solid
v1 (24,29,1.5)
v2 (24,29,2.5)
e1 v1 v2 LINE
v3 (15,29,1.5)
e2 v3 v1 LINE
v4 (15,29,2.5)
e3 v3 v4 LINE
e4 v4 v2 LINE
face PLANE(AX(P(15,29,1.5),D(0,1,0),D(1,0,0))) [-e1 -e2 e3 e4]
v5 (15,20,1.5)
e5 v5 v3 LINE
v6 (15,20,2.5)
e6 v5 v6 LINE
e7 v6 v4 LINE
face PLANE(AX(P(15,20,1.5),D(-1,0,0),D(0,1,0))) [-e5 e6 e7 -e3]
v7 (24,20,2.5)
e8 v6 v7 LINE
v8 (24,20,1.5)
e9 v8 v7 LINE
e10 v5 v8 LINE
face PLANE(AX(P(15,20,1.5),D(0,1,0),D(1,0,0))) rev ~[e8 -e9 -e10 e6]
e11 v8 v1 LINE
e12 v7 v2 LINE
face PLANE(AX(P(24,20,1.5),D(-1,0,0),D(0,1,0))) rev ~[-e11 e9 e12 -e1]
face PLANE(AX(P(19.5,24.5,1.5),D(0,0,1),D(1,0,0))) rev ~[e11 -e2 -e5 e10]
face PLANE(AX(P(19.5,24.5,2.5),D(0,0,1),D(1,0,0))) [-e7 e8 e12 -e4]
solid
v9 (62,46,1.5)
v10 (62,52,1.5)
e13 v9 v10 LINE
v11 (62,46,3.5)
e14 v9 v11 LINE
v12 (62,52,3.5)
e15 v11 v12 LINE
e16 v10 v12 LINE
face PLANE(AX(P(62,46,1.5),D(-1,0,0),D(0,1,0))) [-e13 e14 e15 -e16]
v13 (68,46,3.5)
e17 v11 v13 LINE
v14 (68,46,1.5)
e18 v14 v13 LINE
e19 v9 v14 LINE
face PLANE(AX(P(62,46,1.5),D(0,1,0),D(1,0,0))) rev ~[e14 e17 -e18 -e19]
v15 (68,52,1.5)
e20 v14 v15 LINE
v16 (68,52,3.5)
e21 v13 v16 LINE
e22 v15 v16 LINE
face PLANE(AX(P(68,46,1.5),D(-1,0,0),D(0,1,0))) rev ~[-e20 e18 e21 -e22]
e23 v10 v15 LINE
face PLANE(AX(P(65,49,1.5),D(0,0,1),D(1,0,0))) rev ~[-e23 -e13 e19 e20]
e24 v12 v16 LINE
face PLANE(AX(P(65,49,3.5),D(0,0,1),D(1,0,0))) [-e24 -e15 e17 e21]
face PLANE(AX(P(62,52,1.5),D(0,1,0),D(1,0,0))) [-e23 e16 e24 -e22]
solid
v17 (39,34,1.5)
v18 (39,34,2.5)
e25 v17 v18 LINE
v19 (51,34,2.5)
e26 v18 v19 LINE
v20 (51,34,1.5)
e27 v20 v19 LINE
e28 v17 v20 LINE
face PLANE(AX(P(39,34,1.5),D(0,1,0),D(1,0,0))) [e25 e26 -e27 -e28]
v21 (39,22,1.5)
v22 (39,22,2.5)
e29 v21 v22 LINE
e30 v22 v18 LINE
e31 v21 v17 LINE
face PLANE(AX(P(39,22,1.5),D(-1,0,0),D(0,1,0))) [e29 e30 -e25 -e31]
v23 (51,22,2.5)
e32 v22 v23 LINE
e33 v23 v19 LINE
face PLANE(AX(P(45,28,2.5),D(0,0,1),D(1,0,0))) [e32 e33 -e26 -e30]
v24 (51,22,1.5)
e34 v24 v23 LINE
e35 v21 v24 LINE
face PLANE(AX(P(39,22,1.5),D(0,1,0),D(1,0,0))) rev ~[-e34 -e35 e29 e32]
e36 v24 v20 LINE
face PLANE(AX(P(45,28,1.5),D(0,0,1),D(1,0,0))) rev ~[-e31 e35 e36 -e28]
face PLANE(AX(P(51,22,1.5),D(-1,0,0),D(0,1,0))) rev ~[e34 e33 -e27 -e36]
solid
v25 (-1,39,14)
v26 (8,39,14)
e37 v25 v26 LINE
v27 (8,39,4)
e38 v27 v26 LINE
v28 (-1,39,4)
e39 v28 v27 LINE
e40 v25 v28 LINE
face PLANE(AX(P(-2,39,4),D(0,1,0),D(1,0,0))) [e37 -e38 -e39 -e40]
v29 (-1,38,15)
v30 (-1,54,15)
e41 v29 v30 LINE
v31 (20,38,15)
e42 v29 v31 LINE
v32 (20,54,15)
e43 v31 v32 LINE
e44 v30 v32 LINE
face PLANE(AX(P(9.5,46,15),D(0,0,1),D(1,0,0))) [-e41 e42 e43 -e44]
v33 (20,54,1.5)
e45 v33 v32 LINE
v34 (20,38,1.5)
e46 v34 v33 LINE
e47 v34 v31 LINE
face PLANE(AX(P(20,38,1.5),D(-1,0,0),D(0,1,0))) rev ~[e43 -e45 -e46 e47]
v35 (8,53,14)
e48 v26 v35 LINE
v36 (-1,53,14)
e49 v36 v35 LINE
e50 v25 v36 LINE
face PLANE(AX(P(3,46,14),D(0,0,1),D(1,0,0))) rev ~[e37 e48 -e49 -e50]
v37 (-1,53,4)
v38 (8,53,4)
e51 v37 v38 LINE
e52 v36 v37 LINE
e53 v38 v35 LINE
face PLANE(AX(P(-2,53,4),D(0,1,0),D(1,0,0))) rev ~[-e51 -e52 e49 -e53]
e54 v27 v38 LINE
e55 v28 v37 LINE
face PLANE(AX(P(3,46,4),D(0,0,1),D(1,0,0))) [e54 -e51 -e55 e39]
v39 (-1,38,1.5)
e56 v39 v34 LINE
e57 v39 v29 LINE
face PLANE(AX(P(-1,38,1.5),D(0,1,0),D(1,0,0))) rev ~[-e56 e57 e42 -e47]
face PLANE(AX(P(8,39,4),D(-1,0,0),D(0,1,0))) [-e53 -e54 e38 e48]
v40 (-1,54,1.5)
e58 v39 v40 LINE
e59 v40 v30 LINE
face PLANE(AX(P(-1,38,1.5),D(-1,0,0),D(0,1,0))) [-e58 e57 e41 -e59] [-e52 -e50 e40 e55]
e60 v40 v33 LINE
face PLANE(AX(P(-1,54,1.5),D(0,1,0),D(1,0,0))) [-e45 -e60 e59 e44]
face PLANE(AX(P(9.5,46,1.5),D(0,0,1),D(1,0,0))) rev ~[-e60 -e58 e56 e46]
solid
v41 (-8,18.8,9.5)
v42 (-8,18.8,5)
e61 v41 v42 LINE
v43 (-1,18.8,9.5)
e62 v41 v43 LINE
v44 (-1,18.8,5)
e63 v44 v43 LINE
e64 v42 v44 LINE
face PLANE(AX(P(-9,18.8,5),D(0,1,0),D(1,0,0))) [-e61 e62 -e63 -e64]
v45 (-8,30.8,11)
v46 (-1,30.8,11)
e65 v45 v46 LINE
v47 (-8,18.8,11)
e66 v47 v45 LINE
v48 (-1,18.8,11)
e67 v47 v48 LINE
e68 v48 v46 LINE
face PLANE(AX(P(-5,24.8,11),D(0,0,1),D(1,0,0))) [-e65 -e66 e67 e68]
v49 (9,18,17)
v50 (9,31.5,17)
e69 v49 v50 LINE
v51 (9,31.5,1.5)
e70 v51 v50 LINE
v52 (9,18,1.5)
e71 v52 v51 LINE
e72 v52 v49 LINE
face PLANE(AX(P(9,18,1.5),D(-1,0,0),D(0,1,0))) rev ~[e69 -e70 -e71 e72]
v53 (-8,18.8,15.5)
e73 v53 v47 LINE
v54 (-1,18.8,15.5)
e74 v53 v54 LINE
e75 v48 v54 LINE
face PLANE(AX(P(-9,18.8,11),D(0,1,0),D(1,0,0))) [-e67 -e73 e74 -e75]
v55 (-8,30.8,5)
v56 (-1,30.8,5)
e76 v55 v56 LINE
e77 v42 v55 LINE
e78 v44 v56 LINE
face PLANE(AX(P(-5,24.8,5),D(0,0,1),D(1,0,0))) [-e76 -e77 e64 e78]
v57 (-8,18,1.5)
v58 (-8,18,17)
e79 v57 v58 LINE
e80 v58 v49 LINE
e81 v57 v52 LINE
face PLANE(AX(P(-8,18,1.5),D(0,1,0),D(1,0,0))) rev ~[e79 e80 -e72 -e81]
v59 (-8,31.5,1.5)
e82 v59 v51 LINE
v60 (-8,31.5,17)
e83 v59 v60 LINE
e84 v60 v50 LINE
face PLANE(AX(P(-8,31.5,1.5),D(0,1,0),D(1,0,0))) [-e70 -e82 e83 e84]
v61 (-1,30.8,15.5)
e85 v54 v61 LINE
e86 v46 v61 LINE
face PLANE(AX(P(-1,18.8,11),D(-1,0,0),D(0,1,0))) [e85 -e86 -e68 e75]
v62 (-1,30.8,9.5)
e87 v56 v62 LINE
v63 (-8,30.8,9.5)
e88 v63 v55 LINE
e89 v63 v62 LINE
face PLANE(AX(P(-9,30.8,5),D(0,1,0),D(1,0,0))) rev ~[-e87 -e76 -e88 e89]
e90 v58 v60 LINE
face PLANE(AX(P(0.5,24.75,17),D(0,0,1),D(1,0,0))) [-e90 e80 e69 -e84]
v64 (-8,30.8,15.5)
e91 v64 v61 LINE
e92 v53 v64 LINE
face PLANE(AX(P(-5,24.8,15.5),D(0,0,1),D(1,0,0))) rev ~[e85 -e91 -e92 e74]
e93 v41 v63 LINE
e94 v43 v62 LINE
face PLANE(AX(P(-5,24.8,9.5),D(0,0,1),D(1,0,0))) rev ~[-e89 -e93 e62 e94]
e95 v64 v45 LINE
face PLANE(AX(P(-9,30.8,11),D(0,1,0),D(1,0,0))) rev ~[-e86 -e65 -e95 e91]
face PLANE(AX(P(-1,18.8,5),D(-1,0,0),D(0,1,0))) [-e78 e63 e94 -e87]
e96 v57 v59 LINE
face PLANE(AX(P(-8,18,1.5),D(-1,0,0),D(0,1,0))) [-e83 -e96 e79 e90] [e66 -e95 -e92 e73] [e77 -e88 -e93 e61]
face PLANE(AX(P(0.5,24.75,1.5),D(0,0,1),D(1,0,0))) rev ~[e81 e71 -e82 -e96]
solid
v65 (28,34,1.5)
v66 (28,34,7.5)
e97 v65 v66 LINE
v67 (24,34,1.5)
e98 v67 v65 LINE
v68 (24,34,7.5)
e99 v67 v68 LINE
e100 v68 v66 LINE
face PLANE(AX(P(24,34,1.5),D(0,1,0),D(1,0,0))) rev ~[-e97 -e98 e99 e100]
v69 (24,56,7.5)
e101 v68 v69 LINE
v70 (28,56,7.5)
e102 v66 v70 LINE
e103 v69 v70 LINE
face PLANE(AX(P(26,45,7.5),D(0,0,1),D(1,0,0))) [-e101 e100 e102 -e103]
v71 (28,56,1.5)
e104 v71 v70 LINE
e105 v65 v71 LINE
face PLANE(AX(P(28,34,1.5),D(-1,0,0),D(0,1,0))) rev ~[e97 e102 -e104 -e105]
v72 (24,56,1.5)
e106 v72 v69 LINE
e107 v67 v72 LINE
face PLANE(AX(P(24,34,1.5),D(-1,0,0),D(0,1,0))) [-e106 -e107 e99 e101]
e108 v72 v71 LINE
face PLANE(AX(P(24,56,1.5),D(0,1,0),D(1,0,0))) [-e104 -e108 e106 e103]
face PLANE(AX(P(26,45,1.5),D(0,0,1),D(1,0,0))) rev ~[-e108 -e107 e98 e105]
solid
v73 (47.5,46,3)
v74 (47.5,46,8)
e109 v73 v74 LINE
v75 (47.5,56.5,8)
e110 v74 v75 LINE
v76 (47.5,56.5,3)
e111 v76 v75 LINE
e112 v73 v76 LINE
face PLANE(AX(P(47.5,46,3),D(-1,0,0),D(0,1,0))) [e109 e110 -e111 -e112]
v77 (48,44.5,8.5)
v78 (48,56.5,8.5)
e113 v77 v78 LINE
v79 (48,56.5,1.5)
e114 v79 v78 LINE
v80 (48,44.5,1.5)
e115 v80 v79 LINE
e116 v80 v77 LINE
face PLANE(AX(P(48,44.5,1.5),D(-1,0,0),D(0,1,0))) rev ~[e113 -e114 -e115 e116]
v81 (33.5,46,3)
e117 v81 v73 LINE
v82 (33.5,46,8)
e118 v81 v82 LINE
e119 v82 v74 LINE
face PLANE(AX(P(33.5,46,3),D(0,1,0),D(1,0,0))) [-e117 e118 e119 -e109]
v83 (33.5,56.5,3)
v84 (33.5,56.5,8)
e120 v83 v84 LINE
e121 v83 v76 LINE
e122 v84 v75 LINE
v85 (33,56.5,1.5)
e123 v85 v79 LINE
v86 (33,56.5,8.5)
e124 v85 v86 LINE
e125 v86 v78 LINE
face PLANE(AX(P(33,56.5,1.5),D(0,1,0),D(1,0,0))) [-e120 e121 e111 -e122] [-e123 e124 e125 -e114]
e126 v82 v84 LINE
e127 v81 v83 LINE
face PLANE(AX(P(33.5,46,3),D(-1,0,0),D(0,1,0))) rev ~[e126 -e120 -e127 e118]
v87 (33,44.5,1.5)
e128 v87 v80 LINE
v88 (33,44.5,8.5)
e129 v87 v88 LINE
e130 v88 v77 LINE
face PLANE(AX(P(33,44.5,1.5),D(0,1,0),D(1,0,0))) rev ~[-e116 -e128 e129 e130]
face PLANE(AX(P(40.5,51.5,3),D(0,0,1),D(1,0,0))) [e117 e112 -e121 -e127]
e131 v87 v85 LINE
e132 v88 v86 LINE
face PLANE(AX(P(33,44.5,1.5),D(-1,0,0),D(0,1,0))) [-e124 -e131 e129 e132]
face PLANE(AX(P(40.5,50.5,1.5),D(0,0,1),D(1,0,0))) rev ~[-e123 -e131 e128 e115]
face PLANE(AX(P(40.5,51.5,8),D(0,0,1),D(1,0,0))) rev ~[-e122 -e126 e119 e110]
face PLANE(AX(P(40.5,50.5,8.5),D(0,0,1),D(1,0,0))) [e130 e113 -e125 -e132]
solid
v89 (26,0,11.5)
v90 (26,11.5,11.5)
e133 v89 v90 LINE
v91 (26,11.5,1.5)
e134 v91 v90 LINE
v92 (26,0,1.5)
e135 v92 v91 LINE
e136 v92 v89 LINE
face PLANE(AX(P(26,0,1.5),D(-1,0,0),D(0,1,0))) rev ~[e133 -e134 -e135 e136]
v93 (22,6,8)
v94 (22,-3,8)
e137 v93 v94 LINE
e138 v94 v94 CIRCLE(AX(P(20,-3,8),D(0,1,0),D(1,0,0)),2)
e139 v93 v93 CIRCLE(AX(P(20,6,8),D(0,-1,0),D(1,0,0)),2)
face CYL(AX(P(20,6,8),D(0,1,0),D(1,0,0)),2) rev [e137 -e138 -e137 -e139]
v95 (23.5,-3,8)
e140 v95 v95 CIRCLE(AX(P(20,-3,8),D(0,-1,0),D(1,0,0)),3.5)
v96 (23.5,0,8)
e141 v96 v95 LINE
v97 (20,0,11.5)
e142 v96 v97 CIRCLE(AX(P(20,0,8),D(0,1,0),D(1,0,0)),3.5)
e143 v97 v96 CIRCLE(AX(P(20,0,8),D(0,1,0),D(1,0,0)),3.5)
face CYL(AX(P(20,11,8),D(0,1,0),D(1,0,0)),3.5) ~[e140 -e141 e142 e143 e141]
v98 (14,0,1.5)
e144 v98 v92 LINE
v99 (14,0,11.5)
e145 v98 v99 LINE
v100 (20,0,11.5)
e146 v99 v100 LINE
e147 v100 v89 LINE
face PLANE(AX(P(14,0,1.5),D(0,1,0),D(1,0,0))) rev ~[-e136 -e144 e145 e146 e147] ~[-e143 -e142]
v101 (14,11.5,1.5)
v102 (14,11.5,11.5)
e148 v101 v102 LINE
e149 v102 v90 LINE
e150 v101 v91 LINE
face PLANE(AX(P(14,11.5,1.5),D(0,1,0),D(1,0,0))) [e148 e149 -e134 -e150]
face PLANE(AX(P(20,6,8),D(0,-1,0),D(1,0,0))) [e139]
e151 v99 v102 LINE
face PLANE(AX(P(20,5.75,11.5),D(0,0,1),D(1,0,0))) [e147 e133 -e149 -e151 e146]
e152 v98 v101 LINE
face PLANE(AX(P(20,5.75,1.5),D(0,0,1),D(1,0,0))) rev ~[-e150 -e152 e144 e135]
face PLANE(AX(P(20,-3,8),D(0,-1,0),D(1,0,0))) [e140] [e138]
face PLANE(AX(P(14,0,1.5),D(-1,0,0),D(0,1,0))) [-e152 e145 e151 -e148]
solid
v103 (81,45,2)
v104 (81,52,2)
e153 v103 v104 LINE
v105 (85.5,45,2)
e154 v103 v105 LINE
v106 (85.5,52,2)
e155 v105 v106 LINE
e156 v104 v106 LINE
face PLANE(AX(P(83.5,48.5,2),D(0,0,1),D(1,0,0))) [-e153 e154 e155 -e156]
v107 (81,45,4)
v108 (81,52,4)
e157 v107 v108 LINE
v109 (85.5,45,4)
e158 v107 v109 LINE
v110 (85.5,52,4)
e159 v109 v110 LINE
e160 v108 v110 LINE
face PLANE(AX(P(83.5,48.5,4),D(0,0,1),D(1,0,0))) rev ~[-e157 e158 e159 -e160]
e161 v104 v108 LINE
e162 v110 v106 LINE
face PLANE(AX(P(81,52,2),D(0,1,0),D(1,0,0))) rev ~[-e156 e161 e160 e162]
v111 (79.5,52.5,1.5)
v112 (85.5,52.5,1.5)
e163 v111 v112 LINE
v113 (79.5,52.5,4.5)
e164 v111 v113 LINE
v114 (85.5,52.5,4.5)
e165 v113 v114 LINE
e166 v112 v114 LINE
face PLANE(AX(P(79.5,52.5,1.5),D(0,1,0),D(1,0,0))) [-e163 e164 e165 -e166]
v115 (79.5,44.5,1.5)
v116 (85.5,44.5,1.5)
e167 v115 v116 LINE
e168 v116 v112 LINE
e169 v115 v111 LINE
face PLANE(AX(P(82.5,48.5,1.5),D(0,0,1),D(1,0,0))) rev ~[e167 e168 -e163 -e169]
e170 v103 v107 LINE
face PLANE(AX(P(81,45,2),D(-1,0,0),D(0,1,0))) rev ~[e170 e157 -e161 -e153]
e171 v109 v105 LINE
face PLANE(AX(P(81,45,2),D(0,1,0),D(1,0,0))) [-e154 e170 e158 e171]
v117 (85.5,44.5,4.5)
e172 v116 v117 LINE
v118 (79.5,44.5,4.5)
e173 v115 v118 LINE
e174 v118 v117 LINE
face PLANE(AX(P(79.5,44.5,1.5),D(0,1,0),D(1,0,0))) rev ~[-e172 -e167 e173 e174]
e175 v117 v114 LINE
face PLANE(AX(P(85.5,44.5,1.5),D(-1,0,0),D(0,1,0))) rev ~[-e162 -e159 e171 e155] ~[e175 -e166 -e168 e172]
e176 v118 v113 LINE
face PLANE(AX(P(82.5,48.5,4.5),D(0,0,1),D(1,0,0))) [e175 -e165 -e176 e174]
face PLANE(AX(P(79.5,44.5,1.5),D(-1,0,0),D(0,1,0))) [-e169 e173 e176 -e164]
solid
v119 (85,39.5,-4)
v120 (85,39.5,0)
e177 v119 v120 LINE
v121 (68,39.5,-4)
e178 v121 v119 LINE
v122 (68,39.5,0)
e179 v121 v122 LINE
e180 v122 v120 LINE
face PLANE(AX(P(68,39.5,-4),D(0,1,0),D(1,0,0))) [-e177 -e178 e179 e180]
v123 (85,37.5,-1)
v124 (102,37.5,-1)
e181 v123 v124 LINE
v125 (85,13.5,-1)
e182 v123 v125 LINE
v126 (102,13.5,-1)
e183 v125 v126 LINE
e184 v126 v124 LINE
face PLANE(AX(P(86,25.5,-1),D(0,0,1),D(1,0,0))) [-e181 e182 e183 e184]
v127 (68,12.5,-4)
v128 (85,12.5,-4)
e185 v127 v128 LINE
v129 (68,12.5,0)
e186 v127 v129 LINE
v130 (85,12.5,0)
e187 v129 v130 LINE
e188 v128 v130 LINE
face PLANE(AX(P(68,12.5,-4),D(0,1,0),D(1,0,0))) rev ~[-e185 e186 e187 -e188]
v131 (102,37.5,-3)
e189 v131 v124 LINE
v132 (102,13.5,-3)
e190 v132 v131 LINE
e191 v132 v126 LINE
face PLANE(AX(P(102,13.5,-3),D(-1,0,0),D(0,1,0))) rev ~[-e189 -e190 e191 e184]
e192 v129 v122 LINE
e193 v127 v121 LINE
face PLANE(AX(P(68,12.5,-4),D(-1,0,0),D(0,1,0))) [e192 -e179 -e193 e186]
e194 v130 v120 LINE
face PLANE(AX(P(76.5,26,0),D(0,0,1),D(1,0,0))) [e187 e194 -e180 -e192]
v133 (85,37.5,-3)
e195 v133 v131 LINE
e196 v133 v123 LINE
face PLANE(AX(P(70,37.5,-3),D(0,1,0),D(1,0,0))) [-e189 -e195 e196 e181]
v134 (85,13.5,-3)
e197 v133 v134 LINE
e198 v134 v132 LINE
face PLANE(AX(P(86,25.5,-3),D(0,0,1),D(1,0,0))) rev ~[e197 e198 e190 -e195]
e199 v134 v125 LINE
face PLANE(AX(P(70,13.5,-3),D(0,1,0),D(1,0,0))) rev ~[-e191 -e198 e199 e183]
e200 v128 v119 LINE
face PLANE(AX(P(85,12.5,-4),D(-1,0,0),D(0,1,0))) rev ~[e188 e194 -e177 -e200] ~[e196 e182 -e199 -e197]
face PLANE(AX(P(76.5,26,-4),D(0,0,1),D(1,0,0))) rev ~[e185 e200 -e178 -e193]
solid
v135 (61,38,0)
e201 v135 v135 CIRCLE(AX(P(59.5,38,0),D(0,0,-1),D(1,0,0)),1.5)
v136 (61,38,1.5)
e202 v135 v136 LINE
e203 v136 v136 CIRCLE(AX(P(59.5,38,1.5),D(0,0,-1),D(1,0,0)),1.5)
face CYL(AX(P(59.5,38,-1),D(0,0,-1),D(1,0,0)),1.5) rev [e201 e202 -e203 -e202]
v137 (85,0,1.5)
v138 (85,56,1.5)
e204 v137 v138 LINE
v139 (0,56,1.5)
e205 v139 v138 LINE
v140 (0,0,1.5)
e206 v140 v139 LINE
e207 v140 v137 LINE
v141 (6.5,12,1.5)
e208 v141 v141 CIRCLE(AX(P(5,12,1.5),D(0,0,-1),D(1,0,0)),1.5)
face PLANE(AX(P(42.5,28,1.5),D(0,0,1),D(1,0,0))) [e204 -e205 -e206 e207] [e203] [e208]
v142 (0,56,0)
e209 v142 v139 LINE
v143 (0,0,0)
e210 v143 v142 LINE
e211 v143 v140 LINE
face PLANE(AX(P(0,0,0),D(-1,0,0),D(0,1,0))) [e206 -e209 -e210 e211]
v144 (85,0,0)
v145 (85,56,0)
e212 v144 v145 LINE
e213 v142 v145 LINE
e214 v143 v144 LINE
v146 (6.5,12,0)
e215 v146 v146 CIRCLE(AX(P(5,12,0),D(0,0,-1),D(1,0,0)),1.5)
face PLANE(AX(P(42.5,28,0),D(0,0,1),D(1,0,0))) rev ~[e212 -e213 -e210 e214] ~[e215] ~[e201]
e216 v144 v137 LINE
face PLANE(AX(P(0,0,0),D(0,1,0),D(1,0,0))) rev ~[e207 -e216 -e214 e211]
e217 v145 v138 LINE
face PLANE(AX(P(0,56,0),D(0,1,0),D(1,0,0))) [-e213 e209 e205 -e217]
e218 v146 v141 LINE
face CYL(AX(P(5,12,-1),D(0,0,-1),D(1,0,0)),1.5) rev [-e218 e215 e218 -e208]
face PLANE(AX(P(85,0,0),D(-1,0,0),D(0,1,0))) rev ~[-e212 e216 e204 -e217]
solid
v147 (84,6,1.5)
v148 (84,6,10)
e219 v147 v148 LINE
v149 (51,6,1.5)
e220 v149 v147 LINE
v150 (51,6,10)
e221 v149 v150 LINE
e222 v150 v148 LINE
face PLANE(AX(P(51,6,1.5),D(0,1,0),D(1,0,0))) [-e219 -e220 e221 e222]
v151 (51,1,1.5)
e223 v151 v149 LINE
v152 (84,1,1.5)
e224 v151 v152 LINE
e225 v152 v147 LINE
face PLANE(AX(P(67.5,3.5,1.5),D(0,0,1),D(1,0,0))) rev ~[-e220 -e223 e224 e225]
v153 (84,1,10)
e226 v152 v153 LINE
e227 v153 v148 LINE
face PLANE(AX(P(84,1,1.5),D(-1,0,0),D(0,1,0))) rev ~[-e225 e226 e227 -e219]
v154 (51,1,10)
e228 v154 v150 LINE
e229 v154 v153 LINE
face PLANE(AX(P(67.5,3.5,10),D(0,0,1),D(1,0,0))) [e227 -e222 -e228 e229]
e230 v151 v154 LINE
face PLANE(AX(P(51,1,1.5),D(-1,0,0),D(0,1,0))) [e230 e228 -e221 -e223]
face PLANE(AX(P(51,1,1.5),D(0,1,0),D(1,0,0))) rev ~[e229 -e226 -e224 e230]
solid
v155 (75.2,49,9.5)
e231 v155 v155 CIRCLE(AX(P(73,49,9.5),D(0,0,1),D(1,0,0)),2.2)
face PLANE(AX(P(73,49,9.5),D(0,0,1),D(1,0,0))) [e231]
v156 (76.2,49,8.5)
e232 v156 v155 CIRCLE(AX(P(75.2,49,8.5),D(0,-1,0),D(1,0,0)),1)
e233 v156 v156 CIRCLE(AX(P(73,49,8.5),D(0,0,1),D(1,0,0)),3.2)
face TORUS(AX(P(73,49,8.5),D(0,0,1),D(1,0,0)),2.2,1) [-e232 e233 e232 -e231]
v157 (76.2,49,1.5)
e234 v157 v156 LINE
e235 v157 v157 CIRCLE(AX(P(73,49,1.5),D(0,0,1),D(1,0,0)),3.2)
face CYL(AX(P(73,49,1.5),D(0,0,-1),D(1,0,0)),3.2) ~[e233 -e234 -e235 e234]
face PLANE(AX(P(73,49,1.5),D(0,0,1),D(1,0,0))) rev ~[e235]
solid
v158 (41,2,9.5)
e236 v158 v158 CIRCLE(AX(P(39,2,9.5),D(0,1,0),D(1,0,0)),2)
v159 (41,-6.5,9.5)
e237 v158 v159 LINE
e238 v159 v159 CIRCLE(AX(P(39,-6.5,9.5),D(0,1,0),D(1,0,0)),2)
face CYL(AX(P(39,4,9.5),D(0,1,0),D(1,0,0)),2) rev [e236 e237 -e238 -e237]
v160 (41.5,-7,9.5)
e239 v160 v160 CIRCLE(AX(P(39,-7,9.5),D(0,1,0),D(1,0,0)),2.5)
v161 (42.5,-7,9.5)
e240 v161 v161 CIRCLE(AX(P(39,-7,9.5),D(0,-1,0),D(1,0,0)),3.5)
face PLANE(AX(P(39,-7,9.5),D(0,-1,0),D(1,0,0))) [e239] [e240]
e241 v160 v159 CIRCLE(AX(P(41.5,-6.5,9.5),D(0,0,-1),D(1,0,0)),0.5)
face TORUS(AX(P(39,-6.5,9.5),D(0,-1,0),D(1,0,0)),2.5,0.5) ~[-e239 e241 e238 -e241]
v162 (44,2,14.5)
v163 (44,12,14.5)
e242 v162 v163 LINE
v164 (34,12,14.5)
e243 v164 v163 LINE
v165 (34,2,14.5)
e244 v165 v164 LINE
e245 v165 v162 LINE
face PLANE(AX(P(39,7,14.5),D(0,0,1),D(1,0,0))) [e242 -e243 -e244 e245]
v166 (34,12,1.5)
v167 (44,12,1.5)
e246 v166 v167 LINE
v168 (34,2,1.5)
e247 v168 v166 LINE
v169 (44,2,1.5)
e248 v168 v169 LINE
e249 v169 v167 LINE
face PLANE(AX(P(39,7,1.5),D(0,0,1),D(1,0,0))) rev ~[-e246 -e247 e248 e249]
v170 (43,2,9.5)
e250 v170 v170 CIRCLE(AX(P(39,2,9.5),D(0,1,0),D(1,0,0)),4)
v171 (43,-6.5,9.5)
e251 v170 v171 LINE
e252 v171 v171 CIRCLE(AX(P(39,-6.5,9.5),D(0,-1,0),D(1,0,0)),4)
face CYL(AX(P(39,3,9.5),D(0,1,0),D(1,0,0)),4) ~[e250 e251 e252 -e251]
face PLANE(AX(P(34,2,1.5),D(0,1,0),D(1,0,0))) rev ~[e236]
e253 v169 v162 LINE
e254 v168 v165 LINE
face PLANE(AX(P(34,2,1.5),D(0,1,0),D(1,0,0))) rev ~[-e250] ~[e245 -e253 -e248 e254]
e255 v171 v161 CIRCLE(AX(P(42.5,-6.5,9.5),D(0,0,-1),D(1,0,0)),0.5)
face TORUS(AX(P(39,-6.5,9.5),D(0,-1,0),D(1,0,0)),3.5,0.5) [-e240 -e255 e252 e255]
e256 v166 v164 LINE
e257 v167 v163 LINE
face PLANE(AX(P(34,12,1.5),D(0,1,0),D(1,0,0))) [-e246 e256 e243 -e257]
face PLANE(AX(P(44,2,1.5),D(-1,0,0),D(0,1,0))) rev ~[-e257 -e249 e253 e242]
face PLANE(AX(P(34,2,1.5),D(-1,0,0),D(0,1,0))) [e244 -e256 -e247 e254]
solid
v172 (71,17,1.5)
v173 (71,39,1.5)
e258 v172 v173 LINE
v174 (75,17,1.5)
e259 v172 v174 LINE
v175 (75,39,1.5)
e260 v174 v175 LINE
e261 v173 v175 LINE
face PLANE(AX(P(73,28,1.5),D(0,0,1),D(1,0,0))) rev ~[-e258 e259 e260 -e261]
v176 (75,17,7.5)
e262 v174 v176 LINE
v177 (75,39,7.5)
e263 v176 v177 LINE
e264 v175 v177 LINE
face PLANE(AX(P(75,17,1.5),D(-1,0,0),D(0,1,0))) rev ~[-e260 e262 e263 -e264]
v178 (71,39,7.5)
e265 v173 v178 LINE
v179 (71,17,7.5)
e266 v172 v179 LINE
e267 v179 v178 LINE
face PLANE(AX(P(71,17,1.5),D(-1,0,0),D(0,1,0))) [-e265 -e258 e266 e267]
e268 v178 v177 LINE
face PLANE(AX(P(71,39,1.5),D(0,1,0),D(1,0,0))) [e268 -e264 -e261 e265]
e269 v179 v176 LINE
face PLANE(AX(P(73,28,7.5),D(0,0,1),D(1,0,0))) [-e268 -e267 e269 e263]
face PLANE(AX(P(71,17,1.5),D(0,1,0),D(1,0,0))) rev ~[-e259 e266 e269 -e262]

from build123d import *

# Parameters (mm, degrees)
BOX001_W               = 33
BOX001_H               = 5
BOX001_DEPTH           = 8.5
CYLINDER001_R          = 2
CYLINDER001_DEPTH      = 10
CYLINDER001_ROLL_ANGLE = 90
BOX003_W               = 12
BOX003_H               = 11.5
BOX003_DEPTH           = 10
CYLINDER_R             = 3.5
CYLINDER_DEPTH         = 14
CYLINDER_ROLL_ANGLE    = 90
CYLINDER002_R          = 2
CYLINDER002_DEPTH      = 12
CYLINDER003_R          = 4
CYLINDER003_DEPTH      = 10
FILLET_R               = 0.5
FILLET_ROLL_ANGLE      = 90
BOX002_W               = 10
BOX002_H               = 10
BOX002_DEPTH           = 13
BOX006_W               = 8
BOX006_H               = 12
BOX006_DEPTH           = 4.5
BOX005_W               = 8
BOX005_H               = 12
BOX005_DEPTH           = 4.5
BOX004_W               = 17
BOX004_H               = 13.5
BOX004_DEPTH           = 15.5
BOX008_W               = 10
BOX008_H               = 14
BOX008_DEPTH           = 10
BOX007_W               = 21
BOX007_H               = 16
BOX007_DEPTH           = 13.5
BOX009_W               = 9
BOX009_H               = 9
BOX009_DEPTH           = 1
BOX010_W               = 12
BOX010_H               = 12
BOX010_DEPTH           = 1
BOX011_W               = 4
BOX011_H               = 22
BOX011_DEPTH           = 6
BOX012_W               = 4
BOX012_H               = 22
BOX012_DEPTH           = 6
CYLINDER004_R          = 3.2
CYLINDER004_DEPTH      = 8
FILLET001_R            = 1
BOX013_W               = 6
BOX013_H               = 6
BOX013_DEPTH           = 2
BOX015_W               = 5
BOX015_H               = 7
BOX015_DEPTH           = 2
BOX014_W               = 6
BOX014_H               = 8
BOX014_DEPTH           = 3
BOX017_W               = 14
BOX017_H               = 11
BOX017_DEPTH           = 5
BOX016_W               = 15
BOX016_H               = 12
BOX016_DEPTH           = 7
BOX018_W               = 17
BOX018_H               = 27
BOX018_DEPTH           = 4
BOX019_W               = 32
BOX019_H               = 24
BOX019_DEPTH           = 2
CYLINDER005_R          = 1.5
CYLINDER005_DEPTH      = 3
CYLINDER006_R          = 1.5
CYLINDER006_DEPTH      = 3
BOX_W                  = 85
BOX_H                  = 56
BOX_DEPTH              = 1.5


with BuildPart() as pines:
    # Box001 → Box001 (new body)
    with BuildSketch(Plane(origin=(51, 1, 1.5), x_dir=(1, 0, 0), z_dir=(0, 0, 1))):
        with Locations((16.5, 2.5)):
            Rectangle(BOX001_W, BOX001_H)
    extrude(amount=BOX001_DEPTH)


with BuildPart() as cylinder001:
    # Cylinder001 → Cylinder001 (new body)
    with BuildSketch(Plane.XY):
        Circle(CYLINDER001_R)
    extrude(amount=CYLINDER001_DEPTH)


with BuildPart() as cylinder001_1:
    # Cylinder001 roll: moved
    add(cylinder001.part.rotate(Axis((0, 0, 0), (1, 0, 0)), CYLINDER001_ROLL_ANGLE))


with BuildPart() as cylinder001_2:
    # Cylinder001 placement: moved
    add(cylinder001_1.part.moved(Location((20, 6, 8))))


with BuildPart() as audiocaja:
    # Box003 → Box003 (new body)
    with BuildSketch(Plane(origin=(14, 0, 1.5), x_dir=(1, 0, 0), z_dir=(0, 0, 1))):
        with Locations((6, 5.75)):
            Rectangle(BOX003_W, BOX003_H)
    extrude(amount=BOX003_DEPTH)


with BuildPart() as audio:
    # Cylinder → Cylinder (new body)
    with BuildSketch(Plane.XY):
        Circle(CYLINDER_R)
    extrude(amount=CYLINDER_DEPTH)


with BuildPart() as audio_1:
    # Cylinder roll: moved
    add(audio.part.rotate(Axis((0, 0, 0), (1, 0, 0)), CYLINDER_ROLL_ANGLE))


with BuildPart() as audio_2:
    # Cylinder placement: moved
    add(audio_1.part.moved(Location((20, 11, 8))))

    # Fusion: union audiocaja
    add(audiocaja.part)

    # Cut: cut Cylinder001
    add(cylinder001_2.part, mode=Mode.SUBTRACT)


with BuildPart() as cylinder002:
    # Cylinder002 → Cylinder002 (new body)
    with BuildSketch(Plane.XY.offset(-1)):
        Circle(CYLINDER002_R)
    extrude(amount=CYLINDER002_DEPTH)


with BuildPart() as video2:
    # Cylinder003 → Cylinder003 (new body)
    with BuildSketch(Plane.XY):
        Circle(CYLINDER003_R)
    extrude(amount=CYLINDER003_DEPTH)

    # Cut001: cut Cylinder002
    add(cylinder002.part, mode=Mode.SUBTRACT)

    # Fillet
    fillet_edges = [video2.edges().sort_by_distance(p)[0] for p in [
        (-4, 0, 10),
        (-1.414214, 1.414214, 10),
        (1.414214, -1.414214, 10),
    ]]
    fillet(fillet_edges, radius=FILLET_R)


with BuildPart() as video2_1:
    # Fillet roll: moved
    add(video2.part.rotate(Axis((0, 0, 0), (1, 0, 0)), FILLET_ROLL_ANGLE))


with BuildPart() as video2_2:
    # Fillet placement: moved
    add(video2_1.part.moved(Location((39, 3, 9.5))))


with BuildPart() as video:
    # Box002 → Box002 (new body)
    with BuildSketch(Plane(origin=(34, 2, 1.5), x_dir=(1, 0, 0), z_dir=(0, 0, 1))):
        with Locations((5, 5)):
            Rectangle(BOX002_W, BOX002_H)
    extrude(amount=BOX002_DEPTH)

    # Fusion001: union video2
    add(video2_2.part)


with BuildPart() as box006:
    # Box006 → Box006 (new body)
    with BuildSketch(Plane(origin=(-9, 18.8, 11), x_dir=(1, 0, 0), z_dir=(0, 0, 1))):
        with Locations((4, 6)):
            Rectangle(BOX006_W, BOX006_H)
    extrude(amount=BOX006_DEPTH)


with BuildPart() as box005:
    # Box005 → Box005 (new body)
    with BuildSketch(Plane(origin=(-9, 18.8, 5), x_dir=(1, 0, 0), z_dir=(0, 0, 1))):
        with Locations((4, 6)):
            Rectangle(BOX005_W, BOX005_H)
    extrude(amount=BOX005_DEPTH)


with BuildPart() as usb:
    # Box004 → Box004 (new body)
    with BuildSketch(Plane(origin=(-8, 18, 1.5), x_dir=(1, 0, 0), z_dir=(0, 0, 1))):
        with Locations((8.5, 6.75)):
            Rectangle(BOX004_W, BOX004_H)
    extrude(amount=BOX004_DEPTH)

    # Cut002: cut Box005
    add(box005.part, mode=Mode.SUBTRACT)

    # Cut003: cut Box006
    add(box006.part, mode=Mode.SUBTRACT)


with BuildPart() as box008:
    # Box008 → Box008 (new body)
    with BuildSketch(Plane(origin=(-2, 39, 4), x_dir=(1, 0, 0), z_dir=(0, 0, 1))):
        with Locations((5, 7)):
            Rectangle(BOX008_W, BOX008_H)
    extrude(amount=BOX008_DEPTH)


with BuildPart() as rj47:
    # Box007 → Box007 (new body)
    with BuildSketch(Plane(origin=(-1, 38, 1.5), x_dir=(1, 0, 0), z_dir=(0, 0, 1))):
        with Locations((10.5, 8)):
            Rectangle(BOX007_W, BOX007_H)
    extrude(amount=BOX007_DEPTH)

    # Cut004: cut Box008
    add(box008.part, mode=Mode.SUBTRACT)


with BuildPart() as chip001:
    # Box009 → Box009 (new body)
    with BuildSketch(Plane(origin=(15, 20, 1.5), x_dir=(1, 0, 0), z_dir=(0, 0, 1))):
        with Locations((4.5, 4.5)):
            Rectangle(BOX009_W, BOX009_H)
    extrude(amount=BOX009_DEPTH)


with BuildPart() as chip002:
    # Box010 → Box010 (new body)
    with BuildSketch(Plane(origin=(39, 22, 1.5), x_dir=(1, 0, 0), z_dir=(0, 0, 1))):
        with Locations((6, 6)):
            Rectangle(BOX010_W, BOX010_H)
    extrude(amount=BOX010_DEPTH)


with BuildPart() as conector01:
    # Box011 → Box011 (new body)
    with BuildSketch(Plane(origin=(24, 34, 1.5), x_dir=(1, 0, 0), z_dir=(0, 0, 1))):
        with Locations((2, 11)):
            Rectangle(BOX011_W, BOX011_H)
    extrude(amount=BOX011_DEPTH)


with BuildPart() as conector02:
    # Box012 → Box012 (new body)
    with BuildSketch(Plane(origin=(71, 17, 1.5), x_dir=(1, 0, 0), z_dir=(0, 0, 1))):
        with Locations((2, 11)):
            Rectangle(BOX012_W, BOX012_H)
    extrude(amount=BOX012_DEPTH)


with BuildPart() as condensador:
    # Cylinder004 → Cylinder004 (new body)
    with BuildSketch(Plane(origin=(73, 49, 1.5), x_dir=(1, 0, 0), z_dir=(0, 0, 1))):
        Circle(CYLINDER004_R)
    extrude(amount=CYLINDER004_DEPTH)

    # Fillet001
    fillet001_edges = [condensador.edges().sort_by_distance(p)[0] for p in [
        (69.8, 49, 9.5),
    ]]
    fillet(fillet001_edges, radius=FILLET001_R)


with BuildPart() as chip03:
    # Box013 → Box013 (new body)
    with BuildSketch(Plane(origin=(62, 46, 1.5), x_dir=(1, 0, 0), z_dir=(0, 0, 1))):
        with Locations((3, 3)):
            Rectangle(BOX013_W, BOX013_H)
    extrude(amount=BOX013_DEPTH)


with BuildPart() as box015:
    # Box015 → Box015 (new body)
    with BuildSketch(Plane(origin=(1.5, 0.5, 2), x_dir=(1, 0, 0), z_dir=(0, 0, 1))):
        with Locations((2.5, 3.5)):
            Rectangle(BOX015_W, BOX015_H)
    extrude(amount=BOX015_DEPTH)


with BuildPart() as alimentacion:
    # Box014 → Box014 (new body)
    with BuildSketch(Plane.XY.offset(1.5)):
        with Locations((3, 4)):
            Rectangle(BOX014_W, BOX014_H)
    extrude(amount=BOX014_DEPTH)

    # Cut005: cut Box015
    add(box015.part, mode=Mode.SUBTRACT)


with BuildPart() as alimentacion_1:
    # Cut005 placement: moved
    add(alimentacion.part.moved(Location((79.5, 44.5, 0))))


with BuildPart() as box017:
    # Box017 → Box017 (new body)
    with BuildSketch(Plane(origin=(33.5, 46, 3), x_dir=(1, 0, 0), z_dir=(0, 0, 1))):
        with Locations((7, 5.5)):
            Rectangle(BOX017_W, BOX017_H)
    extrude(amount=BOX017_DEPTH)


with BuildPart() as hdmi:
    # Box016 → Box016 (new body)
    with BuildSketch(Plane(origin=(33, 44.5, 1.5), x_dir=(1, 0, 0), z_dir=(0, 0, 1))):
        with Locations((7.5, 6)):
            Rectangle(BOX016_W, BOX016_H)
    extrude(amount=BOX016_DEPTH)

    # Cut006: cut Box017
    add(box017.part, mode=Mode.SUBTRACT)


with BuildPart() as box018:
    # Box018 → Box018 (new body)
    with BuildSketch(Plane(origin=(68, 12.5, -4), x_dir=(1, 0, 0), z_dir=(0, 0, 1))):
        with Locations((8.5, 13.5)):
            Rectangle(BOX018_W, BOX018_H)
    extrude(amount=BOX018_DEPTH)


with BuildPart() as sd:
    # Box019 → Box019 (new body)
    with BuildSketch(Plane(origin=(70, 13.5, -3), x_dir=(1, 0, 0), z_dir=(0, 0, 1))):
        with Locations((16, 12)):
            Rectangle(BOX019_W, BOX019_H)
    extrude(amount=BOX019_DEPTH)

    # Fusion002: union Box018
    add(box018.part)


with BuildPart() as taladro1:
    # Cylinder005 → Cylinder005 (new body)
    with BuildSketch(Plane(origin=(5, 12, -1), x_dir=(1, 0, 0), z_dir=(0, 0, 1))):
        Circle(CYLINDER005_R)
    extrude(amount=CYLINDER005_DEPTH)


with BuildPart() as taladro2:
    # Cylinder006 → Cylinder006 (new body)
    with BuildSketch(Plane(origin=(59.5, 38, -1), x_dir=(1, 0, 0), z_dir=(0, 0, 1))):
        Circle(CYLINDER006_R)
    extrude(amount=CYLINDER006_DEPTH)


with BuildPart() as placabase:
    # Box → Box (new body)
    with BuildSketch(Plane.XY):
        with Locations((42.5, 28)):
            Rectangle(BOX_W, BOX_H)
    extrude(amount=BOX_DEPTH)

    # Cut007: cut taladro2
    add(taladro2.part, mode=Mode.SUBTRACT)

    # Cut008: cut taladro1
    add(taladro1.part, mode=Mode.SUBTRACT)


solid = Compound([pines.part, audio_2.part, video.part, usb.part, rj47.part, chip001.part, chip002.part, conector01.part, conector02.part, condensador.part, chip03.part, alimentacion_1.part, hdmi.part, sd.part, placabase.part])
